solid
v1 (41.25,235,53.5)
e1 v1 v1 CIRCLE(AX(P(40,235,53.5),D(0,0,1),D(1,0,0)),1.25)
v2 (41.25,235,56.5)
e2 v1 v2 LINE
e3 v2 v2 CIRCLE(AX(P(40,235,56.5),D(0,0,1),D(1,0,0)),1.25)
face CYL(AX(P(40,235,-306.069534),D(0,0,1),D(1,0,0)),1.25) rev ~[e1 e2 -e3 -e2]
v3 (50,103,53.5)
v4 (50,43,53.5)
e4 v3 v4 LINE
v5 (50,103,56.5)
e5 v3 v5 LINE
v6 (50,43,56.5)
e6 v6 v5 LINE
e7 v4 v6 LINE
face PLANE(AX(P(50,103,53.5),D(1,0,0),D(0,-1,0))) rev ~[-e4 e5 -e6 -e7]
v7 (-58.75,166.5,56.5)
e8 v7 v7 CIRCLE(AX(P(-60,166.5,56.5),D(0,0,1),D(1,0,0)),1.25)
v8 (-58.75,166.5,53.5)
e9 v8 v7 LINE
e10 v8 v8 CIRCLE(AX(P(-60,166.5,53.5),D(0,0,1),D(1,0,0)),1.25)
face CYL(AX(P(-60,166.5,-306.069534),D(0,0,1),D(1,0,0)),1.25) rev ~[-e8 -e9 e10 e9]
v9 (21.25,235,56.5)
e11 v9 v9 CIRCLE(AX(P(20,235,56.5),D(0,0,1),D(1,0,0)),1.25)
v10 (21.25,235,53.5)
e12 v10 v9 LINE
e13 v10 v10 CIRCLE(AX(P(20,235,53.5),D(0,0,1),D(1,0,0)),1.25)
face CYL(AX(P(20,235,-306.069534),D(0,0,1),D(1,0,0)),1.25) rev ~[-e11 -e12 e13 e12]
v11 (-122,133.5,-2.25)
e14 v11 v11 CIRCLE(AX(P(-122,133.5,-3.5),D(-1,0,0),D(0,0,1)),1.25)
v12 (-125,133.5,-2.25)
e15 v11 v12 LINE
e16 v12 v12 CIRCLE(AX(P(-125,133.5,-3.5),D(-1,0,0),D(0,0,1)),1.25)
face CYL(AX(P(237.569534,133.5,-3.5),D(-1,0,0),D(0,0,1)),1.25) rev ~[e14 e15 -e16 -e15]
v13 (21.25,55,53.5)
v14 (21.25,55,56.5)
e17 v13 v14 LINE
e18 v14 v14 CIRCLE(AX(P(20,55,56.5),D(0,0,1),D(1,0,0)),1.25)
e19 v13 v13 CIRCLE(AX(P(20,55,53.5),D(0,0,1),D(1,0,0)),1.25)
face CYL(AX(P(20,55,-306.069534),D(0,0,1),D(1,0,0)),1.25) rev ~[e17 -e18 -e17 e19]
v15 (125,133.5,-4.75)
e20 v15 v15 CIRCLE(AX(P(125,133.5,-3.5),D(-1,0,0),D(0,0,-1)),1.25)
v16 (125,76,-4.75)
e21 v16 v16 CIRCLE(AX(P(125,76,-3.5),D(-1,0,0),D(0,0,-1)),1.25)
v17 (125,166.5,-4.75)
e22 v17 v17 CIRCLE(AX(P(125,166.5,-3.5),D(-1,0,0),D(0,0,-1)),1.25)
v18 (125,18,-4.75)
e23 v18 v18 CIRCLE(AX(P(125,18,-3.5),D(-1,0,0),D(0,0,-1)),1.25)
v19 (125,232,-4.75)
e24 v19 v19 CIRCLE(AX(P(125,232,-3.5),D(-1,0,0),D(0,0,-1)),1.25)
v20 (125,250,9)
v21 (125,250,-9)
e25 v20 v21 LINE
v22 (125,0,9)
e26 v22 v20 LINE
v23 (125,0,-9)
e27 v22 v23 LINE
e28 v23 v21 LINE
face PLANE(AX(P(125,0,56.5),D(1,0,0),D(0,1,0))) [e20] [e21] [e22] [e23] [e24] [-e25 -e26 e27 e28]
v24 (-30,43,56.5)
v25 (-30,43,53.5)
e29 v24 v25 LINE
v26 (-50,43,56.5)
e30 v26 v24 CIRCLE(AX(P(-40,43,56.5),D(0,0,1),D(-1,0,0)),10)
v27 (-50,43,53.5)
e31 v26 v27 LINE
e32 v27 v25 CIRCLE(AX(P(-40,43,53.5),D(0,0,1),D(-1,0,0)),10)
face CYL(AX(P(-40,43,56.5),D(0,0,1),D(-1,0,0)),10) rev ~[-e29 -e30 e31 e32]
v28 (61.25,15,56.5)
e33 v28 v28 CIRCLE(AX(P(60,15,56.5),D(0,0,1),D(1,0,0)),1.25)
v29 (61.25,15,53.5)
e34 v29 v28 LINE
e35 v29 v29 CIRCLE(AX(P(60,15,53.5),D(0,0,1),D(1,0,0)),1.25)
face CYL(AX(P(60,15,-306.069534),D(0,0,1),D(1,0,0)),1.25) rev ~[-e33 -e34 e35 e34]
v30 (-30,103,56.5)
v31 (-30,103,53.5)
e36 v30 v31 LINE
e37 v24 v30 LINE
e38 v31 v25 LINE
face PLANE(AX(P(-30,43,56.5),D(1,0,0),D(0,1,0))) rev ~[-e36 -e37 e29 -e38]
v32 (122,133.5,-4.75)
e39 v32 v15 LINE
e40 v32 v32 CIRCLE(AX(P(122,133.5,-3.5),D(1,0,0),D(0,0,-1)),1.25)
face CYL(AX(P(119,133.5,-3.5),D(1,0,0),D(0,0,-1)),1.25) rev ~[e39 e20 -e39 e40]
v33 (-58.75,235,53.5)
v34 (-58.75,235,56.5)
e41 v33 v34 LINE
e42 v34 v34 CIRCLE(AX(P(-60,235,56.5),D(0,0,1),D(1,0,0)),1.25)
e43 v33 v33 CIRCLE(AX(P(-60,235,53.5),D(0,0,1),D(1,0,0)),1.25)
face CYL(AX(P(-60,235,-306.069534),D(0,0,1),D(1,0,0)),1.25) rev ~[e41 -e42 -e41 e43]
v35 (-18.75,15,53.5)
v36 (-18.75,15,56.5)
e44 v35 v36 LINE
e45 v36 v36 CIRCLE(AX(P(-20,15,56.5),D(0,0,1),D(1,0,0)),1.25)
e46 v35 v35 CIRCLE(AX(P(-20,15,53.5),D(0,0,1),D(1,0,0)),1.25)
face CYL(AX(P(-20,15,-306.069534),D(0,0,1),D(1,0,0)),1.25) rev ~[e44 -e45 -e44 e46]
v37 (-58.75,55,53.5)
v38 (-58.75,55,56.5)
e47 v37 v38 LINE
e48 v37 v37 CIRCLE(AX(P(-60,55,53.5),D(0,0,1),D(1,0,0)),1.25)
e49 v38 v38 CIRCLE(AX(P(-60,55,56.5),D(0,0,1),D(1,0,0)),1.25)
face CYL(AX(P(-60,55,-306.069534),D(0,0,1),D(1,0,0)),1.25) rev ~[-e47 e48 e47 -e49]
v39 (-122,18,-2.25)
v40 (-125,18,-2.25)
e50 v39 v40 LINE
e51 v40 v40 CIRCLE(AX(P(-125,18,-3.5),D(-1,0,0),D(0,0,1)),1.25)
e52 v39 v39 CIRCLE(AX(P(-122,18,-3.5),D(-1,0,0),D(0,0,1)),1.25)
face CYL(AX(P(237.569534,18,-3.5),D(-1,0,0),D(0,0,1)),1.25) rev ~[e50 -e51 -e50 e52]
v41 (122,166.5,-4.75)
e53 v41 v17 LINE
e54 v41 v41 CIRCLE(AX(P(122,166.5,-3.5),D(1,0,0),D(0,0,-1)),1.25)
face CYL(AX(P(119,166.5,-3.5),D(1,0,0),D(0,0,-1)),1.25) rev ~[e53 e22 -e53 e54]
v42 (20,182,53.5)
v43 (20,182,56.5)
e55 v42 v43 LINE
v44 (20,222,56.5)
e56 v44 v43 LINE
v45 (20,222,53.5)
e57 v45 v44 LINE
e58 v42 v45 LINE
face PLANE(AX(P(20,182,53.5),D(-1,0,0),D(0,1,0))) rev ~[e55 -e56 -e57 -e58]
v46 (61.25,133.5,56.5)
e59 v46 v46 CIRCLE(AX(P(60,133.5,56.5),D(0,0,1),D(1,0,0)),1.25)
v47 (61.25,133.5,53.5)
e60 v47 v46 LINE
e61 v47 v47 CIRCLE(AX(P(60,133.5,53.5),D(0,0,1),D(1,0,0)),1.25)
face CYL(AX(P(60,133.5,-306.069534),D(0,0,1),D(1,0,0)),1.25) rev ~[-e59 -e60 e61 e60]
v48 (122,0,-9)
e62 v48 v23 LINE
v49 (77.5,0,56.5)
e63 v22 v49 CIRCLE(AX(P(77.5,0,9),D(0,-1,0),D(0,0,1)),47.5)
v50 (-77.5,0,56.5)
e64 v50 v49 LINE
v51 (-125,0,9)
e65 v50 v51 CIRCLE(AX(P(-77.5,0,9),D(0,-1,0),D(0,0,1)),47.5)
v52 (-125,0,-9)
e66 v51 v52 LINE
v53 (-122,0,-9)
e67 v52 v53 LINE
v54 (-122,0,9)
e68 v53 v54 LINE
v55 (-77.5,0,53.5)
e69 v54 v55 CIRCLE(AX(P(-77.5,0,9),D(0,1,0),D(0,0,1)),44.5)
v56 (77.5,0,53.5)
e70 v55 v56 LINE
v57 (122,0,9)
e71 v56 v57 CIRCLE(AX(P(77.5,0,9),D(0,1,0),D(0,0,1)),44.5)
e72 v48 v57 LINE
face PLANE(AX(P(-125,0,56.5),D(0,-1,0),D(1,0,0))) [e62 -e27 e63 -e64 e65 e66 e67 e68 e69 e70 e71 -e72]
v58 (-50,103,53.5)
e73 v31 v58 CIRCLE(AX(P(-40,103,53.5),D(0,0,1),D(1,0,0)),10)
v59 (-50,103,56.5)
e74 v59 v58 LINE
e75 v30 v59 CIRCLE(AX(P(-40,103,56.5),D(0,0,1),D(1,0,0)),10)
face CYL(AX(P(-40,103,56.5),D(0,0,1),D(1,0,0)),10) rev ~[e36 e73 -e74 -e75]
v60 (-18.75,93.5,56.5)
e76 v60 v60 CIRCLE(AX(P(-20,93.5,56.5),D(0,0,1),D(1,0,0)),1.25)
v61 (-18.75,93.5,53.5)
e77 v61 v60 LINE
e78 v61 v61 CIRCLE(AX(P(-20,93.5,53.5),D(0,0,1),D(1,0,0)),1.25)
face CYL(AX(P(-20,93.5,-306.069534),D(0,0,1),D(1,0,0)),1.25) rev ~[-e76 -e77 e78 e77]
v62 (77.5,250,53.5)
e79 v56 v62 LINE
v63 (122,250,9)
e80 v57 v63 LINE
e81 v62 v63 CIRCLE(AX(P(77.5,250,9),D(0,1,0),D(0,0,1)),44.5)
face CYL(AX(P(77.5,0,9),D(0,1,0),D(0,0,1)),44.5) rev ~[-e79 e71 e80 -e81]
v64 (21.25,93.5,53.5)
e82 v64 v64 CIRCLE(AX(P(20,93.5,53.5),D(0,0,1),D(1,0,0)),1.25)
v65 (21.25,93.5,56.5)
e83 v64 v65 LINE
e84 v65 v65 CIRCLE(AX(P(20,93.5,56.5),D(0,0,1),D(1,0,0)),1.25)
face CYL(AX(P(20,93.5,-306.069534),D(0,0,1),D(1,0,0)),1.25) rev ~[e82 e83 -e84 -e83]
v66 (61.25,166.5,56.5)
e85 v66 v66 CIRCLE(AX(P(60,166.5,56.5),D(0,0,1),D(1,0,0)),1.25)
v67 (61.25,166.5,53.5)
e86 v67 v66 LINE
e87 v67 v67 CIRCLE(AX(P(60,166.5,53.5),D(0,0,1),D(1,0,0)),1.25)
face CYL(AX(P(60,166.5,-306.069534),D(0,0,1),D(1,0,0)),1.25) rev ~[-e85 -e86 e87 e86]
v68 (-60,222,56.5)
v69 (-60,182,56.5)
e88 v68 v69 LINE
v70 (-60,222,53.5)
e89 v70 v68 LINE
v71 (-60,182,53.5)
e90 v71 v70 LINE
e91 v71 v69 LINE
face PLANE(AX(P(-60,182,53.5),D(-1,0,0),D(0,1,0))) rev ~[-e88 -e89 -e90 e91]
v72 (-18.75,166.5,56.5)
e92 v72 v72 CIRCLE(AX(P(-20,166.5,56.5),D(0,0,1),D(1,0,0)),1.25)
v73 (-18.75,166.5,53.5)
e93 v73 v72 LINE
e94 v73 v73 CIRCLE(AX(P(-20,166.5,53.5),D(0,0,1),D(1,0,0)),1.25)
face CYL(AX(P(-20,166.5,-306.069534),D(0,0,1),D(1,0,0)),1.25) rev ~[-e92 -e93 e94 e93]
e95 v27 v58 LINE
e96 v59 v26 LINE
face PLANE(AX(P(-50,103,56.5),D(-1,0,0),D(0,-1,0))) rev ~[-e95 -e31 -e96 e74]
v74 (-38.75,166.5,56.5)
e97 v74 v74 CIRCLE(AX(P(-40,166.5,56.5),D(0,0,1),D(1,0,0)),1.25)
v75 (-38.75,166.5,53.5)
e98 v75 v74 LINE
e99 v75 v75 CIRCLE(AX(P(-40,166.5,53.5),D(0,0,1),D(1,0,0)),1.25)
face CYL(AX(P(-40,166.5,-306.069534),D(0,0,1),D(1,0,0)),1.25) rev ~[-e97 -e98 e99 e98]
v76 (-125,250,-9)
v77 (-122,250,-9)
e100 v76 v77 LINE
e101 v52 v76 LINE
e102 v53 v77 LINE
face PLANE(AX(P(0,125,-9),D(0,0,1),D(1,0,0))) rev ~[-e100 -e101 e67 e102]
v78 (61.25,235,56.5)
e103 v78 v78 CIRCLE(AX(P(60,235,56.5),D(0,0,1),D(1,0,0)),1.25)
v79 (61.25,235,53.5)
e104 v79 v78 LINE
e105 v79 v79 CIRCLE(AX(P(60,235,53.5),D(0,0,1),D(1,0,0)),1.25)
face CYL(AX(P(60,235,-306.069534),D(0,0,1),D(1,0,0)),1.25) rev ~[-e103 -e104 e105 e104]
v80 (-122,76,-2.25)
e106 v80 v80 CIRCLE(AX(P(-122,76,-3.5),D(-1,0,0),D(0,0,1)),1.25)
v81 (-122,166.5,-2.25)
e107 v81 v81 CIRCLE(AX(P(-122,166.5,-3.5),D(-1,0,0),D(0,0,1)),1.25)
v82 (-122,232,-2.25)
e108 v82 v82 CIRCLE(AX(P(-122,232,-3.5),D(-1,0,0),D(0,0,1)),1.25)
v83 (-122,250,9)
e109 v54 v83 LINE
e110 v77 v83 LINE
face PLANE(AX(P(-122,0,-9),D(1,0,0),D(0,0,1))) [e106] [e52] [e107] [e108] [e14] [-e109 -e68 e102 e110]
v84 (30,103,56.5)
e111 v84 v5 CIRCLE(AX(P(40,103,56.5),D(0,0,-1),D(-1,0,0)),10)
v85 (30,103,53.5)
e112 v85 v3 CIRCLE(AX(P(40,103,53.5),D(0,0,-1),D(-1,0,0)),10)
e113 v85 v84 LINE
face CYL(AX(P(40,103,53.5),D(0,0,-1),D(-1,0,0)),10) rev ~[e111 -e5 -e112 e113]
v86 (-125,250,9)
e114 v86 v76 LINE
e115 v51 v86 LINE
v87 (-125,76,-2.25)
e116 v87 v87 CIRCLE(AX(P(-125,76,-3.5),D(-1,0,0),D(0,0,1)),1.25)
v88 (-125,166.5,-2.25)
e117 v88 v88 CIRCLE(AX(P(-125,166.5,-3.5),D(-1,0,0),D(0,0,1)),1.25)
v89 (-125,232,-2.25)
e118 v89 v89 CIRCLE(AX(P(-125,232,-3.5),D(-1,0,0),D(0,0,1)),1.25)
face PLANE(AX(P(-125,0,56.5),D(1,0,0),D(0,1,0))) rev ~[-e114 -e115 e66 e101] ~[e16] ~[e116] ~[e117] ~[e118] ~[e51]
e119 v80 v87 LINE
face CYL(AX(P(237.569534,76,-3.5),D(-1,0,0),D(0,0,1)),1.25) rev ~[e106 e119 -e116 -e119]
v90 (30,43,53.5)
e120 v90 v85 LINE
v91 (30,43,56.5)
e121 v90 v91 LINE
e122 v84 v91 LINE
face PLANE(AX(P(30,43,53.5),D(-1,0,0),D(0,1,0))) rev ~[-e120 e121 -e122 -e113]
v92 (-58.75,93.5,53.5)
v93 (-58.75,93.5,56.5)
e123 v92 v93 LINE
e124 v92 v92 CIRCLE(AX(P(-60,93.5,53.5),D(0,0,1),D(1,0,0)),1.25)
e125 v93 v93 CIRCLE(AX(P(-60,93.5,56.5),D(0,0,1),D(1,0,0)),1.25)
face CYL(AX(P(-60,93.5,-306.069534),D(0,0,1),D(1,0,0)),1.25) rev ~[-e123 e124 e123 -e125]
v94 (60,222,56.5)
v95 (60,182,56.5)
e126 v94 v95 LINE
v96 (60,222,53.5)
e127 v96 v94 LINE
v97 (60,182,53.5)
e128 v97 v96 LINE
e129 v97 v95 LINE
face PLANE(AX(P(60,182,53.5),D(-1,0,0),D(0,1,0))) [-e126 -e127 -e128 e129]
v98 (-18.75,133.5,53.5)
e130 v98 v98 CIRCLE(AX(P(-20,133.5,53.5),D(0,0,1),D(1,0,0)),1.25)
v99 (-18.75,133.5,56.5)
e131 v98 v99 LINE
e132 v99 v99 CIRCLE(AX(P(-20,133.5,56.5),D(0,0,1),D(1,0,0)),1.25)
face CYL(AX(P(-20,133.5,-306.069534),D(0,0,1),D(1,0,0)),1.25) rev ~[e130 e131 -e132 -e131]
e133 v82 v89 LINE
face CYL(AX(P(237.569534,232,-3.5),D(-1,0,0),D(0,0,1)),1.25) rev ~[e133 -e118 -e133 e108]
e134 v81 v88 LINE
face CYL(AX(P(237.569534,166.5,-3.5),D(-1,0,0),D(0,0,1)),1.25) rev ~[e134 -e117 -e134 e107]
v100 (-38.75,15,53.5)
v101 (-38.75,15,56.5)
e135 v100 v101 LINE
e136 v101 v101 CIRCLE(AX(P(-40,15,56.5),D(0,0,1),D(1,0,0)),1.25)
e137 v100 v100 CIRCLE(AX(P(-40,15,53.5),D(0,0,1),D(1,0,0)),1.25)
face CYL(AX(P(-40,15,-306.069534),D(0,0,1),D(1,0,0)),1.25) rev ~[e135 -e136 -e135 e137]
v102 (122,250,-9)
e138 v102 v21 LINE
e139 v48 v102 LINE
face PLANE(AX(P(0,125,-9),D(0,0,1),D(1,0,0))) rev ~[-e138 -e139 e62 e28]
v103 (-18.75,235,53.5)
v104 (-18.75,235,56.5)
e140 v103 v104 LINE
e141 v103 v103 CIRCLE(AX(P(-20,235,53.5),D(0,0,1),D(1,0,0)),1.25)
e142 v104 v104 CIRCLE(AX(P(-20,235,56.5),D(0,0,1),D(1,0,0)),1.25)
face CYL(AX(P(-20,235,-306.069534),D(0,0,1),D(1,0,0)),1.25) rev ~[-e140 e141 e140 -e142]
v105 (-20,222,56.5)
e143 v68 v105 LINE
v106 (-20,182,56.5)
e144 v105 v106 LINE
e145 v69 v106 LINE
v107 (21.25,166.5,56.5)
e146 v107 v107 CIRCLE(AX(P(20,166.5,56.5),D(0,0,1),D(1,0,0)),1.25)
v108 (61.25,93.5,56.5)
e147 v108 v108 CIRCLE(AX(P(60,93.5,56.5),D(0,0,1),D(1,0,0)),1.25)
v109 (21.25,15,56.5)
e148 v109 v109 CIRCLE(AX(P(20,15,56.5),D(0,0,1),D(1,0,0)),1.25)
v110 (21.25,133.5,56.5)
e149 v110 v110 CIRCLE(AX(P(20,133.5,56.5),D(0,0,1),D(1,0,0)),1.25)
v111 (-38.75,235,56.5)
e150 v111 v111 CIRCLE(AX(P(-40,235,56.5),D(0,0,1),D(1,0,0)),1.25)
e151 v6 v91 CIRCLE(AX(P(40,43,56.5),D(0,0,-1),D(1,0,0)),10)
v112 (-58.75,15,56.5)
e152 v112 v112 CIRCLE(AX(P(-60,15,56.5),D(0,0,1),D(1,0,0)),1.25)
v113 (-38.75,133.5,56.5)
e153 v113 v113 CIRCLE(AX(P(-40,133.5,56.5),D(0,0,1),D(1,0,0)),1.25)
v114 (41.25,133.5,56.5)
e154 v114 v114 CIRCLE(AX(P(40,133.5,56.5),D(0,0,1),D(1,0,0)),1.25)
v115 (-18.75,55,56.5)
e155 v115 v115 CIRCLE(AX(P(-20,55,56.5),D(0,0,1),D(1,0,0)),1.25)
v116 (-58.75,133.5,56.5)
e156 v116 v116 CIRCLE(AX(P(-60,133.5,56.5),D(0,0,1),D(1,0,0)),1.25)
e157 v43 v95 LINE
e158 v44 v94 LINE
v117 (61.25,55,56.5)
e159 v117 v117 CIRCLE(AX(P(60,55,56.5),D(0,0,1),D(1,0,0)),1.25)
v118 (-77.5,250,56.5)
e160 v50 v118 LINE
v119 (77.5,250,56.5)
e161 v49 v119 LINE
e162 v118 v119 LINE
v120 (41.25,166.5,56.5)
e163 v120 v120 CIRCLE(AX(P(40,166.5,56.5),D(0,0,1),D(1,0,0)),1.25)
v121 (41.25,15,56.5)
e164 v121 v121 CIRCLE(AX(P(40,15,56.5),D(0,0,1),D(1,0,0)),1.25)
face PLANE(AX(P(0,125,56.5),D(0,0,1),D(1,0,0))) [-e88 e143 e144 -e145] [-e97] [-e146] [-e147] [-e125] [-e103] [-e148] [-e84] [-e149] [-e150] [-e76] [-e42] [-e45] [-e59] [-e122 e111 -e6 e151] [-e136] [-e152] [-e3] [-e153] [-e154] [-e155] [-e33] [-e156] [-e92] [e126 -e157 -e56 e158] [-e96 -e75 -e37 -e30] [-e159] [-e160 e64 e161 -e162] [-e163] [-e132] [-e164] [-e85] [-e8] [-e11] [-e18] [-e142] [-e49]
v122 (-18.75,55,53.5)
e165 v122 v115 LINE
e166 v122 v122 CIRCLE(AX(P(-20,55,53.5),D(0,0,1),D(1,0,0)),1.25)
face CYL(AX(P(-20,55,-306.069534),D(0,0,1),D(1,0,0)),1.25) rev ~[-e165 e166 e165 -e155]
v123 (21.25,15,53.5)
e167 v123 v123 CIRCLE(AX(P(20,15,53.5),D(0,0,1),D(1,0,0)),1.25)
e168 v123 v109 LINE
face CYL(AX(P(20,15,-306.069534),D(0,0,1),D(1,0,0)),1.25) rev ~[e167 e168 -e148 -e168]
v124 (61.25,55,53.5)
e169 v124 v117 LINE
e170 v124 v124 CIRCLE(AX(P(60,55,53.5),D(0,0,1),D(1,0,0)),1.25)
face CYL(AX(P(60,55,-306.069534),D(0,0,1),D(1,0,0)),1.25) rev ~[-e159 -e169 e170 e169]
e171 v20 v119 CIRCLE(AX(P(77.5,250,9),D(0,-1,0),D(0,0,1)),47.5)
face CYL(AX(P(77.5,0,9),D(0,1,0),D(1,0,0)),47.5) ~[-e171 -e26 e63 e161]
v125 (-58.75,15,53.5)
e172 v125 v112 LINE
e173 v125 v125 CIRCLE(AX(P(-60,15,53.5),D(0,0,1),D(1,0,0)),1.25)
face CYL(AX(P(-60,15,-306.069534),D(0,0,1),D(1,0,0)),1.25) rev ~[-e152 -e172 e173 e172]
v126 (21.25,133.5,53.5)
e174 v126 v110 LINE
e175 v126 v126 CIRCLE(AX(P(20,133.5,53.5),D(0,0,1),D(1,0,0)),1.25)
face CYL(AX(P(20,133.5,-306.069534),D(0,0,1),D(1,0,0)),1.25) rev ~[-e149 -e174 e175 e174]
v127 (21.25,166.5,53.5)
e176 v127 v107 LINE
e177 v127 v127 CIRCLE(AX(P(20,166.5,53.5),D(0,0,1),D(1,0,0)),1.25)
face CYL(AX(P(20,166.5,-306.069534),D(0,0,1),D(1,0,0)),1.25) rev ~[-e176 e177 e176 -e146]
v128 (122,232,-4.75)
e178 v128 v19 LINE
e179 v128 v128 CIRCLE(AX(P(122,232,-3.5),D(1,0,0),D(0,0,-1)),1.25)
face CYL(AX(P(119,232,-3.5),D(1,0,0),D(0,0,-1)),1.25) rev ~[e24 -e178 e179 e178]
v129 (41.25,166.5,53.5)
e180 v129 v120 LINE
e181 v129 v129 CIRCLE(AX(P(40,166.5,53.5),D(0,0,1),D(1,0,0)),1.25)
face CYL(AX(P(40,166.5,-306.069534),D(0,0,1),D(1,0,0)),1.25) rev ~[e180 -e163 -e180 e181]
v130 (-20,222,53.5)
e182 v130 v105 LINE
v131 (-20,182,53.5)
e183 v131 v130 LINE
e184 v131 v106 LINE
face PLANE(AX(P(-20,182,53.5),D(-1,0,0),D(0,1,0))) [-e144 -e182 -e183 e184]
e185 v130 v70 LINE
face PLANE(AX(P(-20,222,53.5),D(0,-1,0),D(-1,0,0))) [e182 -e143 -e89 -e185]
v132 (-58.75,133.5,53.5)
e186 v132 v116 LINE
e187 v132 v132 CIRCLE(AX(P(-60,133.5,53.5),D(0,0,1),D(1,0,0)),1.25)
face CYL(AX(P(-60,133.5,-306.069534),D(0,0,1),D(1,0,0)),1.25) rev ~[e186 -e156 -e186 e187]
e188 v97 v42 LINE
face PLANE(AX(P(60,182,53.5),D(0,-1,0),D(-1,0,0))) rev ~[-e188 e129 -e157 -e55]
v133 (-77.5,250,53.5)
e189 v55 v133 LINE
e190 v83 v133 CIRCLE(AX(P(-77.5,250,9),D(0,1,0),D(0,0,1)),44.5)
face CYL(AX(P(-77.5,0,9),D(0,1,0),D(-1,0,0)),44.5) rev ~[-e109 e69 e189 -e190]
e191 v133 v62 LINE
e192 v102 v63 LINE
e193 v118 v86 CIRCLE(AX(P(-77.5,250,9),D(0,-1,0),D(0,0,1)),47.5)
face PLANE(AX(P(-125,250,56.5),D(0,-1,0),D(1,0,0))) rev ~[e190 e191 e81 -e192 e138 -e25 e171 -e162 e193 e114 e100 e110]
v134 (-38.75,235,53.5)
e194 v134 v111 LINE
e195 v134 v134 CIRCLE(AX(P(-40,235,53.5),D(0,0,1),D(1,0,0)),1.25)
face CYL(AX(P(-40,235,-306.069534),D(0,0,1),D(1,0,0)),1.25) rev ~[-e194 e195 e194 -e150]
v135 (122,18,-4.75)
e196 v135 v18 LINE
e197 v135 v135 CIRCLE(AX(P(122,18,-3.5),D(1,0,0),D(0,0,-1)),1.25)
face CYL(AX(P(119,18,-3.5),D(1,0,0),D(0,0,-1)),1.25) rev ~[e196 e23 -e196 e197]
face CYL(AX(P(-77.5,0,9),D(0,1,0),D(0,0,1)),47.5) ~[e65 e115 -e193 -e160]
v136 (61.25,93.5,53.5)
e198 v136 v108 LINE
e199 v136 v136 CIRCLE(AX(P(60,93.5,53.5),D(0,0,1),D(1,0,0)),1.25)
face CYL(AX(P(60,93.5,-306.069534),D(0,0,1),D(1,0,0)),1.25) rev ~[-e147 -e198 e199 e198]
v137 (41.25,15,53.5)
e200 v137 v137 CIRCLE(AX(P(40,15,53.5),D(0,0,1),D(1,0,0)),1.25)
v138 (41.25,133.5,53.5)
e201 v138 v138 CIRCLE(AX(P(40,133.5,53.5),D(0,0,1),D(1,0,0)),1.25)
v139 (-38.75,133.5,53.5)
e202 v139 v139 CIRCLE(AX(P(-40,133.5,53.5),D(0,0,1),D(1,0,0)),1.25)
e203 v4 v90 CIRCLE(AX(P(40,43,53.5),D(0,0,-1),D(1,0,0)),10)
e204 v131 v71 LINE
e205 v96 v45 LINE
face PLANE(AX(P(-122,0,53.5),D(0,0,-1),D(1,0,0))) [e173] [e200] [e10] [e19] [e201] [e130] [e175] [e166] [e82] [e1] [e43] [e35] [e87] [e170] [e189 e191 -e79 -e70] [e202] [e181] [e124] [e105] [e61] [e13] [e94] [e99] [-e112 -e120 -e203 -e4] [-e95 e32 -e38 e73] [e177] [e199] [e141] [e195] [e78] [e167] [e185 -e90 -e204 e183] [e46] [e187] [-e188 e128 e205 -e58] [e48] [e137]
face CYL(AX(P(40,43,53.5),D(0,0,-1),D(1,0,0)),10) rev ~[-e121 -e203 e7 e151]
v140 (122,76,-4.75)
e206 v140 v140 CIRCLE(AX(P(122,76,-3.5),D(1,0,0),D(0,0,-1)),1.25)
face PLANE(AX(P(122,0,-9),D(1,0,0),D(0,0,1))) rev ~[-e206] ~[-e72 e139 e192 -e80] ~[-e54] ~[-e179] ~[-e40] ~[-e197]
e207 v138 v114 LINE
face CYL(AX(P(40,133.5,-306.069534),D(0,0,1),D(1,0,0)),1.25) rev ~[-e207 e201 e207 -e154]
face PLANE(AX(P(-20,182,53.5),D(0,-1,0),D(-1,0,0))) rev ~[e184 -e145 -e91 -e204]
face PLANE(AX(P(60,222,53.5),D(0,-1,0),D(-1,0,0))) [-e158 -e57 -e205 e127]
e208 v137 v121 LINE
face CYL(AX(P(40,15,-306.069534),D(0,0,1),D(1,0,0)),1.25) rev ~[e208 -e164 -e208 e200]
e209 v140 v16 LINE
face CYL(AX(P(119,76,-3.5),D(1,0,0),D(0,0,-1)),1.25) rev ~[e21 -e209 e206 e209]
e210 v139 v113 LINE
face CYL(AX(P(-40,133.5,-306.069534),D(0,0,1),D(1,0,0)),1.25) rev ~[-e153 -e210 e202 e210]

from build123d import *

# Parameters (mm, degrees)
SKETCH_1_W                  = 250
SKETCH_1_H                  = 250
EXTRUDE_1_DEPTH             = 65.5
SKETCH_2_W                  = 244
SKETCH_2_H                  = 62.5
CUT_EXTRUDE_1_DEPTH         = 286.161796179
SKETCH_3_W                  = 40
SKETCH_3_H                  = 40
CUT_EXTRUDE_2_DEPTH         = 287.410980935
CUT_EXTRUDE_3_DEPTH         = 287.410980935
SKETCH_5_W                  = 40
SKETCH_5_H                  = 40
CUT_EXTRUDE_4_DEPTH         = 287.410980935
CUT_EXTRUDE_5_DEPTH         = 288.080563605
HOLE_WIZARD_2_5_2_5_1_D     = 2.5
HOLE_WIZARD_2_5_2_5_2_D     = 2.5
HOLE_WIZARD_2_5_2_5_2_DEPTH = 3
HOLE_WIZARD_2_5_2_5_3_D     = 2.5
FILLET_1_R                  = 44.5
FILLET_2_R                  = 47.5


with BuildPart() as part:
    # Эскиз1 → Бобышка-Вытянуть1 (new body)
    with BuildSketch(Plane.XY.offset(56.5)):
        with Locations((0, 125)):
            Rectangle(SKETCH_1_W, SKETCH_1_H)
    extrude(amount=-EXTRUDE_1_DEPTH)

    # Эскиз2 → Вырез-Вытянуть1 (cut, through all)
    with BuildSketch(Plane.XZ):
        with Locations((0, 22.25)):
            Rectangle(SKETCH_2_W, SKETCH_2_H)
    extrude(amount=-CUT_EXTRUDE_1_DEPTH, mode=Mode.SUBTRACT)

    # Эскиз3 → Вырез-Вытянуть2 (cut, through all)
    with BuildSketch(Plane(origin=(0, 0, 53.5), x_dir=(-1, 0, 0), z_dir=(0, 0, -1))):
        with Locations((40, 202)):
            Rectangle(SKETCH_3_W, SKETCH_3_H)
    extrude(amount=-CUT_EXTRUDE_2_DEPTH, mode=Mode.SUBTRACT)

    # Эскиз4 → Вырез-Вытянуть3 (cut, through all)
    with BuildSketch(Plane(origin=(0, 0, 53.5), x_dir=(-1, 0, 0), z_dir=(0, 0, -1))):
        with BuildLine():
            Line((-50, 103), (-50, 43))
            ThreePointArc((-50, 43), (-40, 33), (-30, 43))
            Line((-30, 43), (-30, 103))
            ThreePointArc((-30, 103), (-40, 113), (-50, 103))
        make_face()
    extrude(amount=-CUT_EXTRUDE_3_DEPTH, mode=Mode.SUBTRACT)

    # Эскиз5 → Вырез-Вытянуть4 (cut, through all)
    with BuildSketch(Plane(origin=(0, 0, 53.5), x_dir=(-1, 0, 0), z_dir=(0, 0, -1))):
        with Locations((-40, 202)):
            Rectangle(SKETCH_5_W, SKETCH_5_H)
    extrude(amount=-CUT_EXTRUDE_4_DEPTH, mode=Mode.SUBTRACT)

    # Эскиз6 → Вырез-Вытянуть5 (cut, through all)
    with BuildSketch(Plane.XY.offset(56.5)):
        with BuildLine():
            Line((-30, 43), (-30, 103))
            ThreePointArc((-30, 103), (-40, 113), (-50, 103))
            Line((-50, 103), (-50, 43))
            ThreePointArc((-50, 43), (-40, 33), (-30, 43))
        make_face()
    extrude(amount=-CUT_EXTRUDE_5_DEPTH, mode=Mode.SUBTRACT)

    # Диаметр отверстия Ø2.5 (2.5)1 (through all)
    with Locations(Plane(origin=(0, 0, 53.5), x_dir=(-1, 0, 0), z_dir=(0, 0, -1))):
        with Locations((60, 166.5), (20, 235), (20, 166.5), (-20, 133.5), (-20, 15), (-40, 166.5), (-40, 15), (-60, 235), (-60, 166.5), (60, 55), (20, 93.5), (20, 55), (-20, 93.5), (-20, 55), (-60, 93.5), (-60, 55), (60, 93.5), (-60, 15), (-60, 133.5), (-40, 133.5), (-40, 235), (-20, 166.5), (-20, 235), (20, 15), (20, 133.5), (40, 15), (40, 133.5), (40, 166.5), (40, 235), (60, 15), (60, 133.5), (60, 235)):
            Hole(HOLE_WIZARD_2_5_2_5_1_D / 2)

    # Диаметр отверстия Ø2.5 (2.5)2
    with Locations(Plane.ZY.offset(-122)):
        with Locations((-3.5, 232), (-3.5, 18), (-3.5, 76), (-3.5, 133.5), (-3.5, 166.5)):
            Hole(HOLE_WIZARD_2_5_2_5_2_D / 2, depth=HOLE_WIZARD_2_5_2_5_2_DEPTH)

    # Диаметр отверстия Ø2.5 (2.5)3 (through all)
    with Locations(Plane(origin=(-122, 0, 0), x_dir=(0, 0, -1), z_dir=(1, 0, 0))):
        with Locations((3.5, 232), (3.5, 166.5), (3.5, 76), (3.5, 18), (3.5, 133.5)):
            Hole(HOLE_WIZARD_2_5_2_5_3_D / 2)

    # Скругление1
    fillet_1_edges = [part.edges().sort_by_distance(p)[0] for p in [
        (-122, 125, 53.5),
        (122, 125, 53.5),
    ]]
    fillet(fillet_1_edges, radius=FILLET_1_R)

    # Скругление2
    fillet_2_edges = [part.edges().sort_by_distance(p)[0] for p in [
        (125, 125, 56.5),
        (-125, 125, 56.5),
    ]]
    fillet(fillet_2_edges, radius=FILLET_2_R)


solid = part.part
